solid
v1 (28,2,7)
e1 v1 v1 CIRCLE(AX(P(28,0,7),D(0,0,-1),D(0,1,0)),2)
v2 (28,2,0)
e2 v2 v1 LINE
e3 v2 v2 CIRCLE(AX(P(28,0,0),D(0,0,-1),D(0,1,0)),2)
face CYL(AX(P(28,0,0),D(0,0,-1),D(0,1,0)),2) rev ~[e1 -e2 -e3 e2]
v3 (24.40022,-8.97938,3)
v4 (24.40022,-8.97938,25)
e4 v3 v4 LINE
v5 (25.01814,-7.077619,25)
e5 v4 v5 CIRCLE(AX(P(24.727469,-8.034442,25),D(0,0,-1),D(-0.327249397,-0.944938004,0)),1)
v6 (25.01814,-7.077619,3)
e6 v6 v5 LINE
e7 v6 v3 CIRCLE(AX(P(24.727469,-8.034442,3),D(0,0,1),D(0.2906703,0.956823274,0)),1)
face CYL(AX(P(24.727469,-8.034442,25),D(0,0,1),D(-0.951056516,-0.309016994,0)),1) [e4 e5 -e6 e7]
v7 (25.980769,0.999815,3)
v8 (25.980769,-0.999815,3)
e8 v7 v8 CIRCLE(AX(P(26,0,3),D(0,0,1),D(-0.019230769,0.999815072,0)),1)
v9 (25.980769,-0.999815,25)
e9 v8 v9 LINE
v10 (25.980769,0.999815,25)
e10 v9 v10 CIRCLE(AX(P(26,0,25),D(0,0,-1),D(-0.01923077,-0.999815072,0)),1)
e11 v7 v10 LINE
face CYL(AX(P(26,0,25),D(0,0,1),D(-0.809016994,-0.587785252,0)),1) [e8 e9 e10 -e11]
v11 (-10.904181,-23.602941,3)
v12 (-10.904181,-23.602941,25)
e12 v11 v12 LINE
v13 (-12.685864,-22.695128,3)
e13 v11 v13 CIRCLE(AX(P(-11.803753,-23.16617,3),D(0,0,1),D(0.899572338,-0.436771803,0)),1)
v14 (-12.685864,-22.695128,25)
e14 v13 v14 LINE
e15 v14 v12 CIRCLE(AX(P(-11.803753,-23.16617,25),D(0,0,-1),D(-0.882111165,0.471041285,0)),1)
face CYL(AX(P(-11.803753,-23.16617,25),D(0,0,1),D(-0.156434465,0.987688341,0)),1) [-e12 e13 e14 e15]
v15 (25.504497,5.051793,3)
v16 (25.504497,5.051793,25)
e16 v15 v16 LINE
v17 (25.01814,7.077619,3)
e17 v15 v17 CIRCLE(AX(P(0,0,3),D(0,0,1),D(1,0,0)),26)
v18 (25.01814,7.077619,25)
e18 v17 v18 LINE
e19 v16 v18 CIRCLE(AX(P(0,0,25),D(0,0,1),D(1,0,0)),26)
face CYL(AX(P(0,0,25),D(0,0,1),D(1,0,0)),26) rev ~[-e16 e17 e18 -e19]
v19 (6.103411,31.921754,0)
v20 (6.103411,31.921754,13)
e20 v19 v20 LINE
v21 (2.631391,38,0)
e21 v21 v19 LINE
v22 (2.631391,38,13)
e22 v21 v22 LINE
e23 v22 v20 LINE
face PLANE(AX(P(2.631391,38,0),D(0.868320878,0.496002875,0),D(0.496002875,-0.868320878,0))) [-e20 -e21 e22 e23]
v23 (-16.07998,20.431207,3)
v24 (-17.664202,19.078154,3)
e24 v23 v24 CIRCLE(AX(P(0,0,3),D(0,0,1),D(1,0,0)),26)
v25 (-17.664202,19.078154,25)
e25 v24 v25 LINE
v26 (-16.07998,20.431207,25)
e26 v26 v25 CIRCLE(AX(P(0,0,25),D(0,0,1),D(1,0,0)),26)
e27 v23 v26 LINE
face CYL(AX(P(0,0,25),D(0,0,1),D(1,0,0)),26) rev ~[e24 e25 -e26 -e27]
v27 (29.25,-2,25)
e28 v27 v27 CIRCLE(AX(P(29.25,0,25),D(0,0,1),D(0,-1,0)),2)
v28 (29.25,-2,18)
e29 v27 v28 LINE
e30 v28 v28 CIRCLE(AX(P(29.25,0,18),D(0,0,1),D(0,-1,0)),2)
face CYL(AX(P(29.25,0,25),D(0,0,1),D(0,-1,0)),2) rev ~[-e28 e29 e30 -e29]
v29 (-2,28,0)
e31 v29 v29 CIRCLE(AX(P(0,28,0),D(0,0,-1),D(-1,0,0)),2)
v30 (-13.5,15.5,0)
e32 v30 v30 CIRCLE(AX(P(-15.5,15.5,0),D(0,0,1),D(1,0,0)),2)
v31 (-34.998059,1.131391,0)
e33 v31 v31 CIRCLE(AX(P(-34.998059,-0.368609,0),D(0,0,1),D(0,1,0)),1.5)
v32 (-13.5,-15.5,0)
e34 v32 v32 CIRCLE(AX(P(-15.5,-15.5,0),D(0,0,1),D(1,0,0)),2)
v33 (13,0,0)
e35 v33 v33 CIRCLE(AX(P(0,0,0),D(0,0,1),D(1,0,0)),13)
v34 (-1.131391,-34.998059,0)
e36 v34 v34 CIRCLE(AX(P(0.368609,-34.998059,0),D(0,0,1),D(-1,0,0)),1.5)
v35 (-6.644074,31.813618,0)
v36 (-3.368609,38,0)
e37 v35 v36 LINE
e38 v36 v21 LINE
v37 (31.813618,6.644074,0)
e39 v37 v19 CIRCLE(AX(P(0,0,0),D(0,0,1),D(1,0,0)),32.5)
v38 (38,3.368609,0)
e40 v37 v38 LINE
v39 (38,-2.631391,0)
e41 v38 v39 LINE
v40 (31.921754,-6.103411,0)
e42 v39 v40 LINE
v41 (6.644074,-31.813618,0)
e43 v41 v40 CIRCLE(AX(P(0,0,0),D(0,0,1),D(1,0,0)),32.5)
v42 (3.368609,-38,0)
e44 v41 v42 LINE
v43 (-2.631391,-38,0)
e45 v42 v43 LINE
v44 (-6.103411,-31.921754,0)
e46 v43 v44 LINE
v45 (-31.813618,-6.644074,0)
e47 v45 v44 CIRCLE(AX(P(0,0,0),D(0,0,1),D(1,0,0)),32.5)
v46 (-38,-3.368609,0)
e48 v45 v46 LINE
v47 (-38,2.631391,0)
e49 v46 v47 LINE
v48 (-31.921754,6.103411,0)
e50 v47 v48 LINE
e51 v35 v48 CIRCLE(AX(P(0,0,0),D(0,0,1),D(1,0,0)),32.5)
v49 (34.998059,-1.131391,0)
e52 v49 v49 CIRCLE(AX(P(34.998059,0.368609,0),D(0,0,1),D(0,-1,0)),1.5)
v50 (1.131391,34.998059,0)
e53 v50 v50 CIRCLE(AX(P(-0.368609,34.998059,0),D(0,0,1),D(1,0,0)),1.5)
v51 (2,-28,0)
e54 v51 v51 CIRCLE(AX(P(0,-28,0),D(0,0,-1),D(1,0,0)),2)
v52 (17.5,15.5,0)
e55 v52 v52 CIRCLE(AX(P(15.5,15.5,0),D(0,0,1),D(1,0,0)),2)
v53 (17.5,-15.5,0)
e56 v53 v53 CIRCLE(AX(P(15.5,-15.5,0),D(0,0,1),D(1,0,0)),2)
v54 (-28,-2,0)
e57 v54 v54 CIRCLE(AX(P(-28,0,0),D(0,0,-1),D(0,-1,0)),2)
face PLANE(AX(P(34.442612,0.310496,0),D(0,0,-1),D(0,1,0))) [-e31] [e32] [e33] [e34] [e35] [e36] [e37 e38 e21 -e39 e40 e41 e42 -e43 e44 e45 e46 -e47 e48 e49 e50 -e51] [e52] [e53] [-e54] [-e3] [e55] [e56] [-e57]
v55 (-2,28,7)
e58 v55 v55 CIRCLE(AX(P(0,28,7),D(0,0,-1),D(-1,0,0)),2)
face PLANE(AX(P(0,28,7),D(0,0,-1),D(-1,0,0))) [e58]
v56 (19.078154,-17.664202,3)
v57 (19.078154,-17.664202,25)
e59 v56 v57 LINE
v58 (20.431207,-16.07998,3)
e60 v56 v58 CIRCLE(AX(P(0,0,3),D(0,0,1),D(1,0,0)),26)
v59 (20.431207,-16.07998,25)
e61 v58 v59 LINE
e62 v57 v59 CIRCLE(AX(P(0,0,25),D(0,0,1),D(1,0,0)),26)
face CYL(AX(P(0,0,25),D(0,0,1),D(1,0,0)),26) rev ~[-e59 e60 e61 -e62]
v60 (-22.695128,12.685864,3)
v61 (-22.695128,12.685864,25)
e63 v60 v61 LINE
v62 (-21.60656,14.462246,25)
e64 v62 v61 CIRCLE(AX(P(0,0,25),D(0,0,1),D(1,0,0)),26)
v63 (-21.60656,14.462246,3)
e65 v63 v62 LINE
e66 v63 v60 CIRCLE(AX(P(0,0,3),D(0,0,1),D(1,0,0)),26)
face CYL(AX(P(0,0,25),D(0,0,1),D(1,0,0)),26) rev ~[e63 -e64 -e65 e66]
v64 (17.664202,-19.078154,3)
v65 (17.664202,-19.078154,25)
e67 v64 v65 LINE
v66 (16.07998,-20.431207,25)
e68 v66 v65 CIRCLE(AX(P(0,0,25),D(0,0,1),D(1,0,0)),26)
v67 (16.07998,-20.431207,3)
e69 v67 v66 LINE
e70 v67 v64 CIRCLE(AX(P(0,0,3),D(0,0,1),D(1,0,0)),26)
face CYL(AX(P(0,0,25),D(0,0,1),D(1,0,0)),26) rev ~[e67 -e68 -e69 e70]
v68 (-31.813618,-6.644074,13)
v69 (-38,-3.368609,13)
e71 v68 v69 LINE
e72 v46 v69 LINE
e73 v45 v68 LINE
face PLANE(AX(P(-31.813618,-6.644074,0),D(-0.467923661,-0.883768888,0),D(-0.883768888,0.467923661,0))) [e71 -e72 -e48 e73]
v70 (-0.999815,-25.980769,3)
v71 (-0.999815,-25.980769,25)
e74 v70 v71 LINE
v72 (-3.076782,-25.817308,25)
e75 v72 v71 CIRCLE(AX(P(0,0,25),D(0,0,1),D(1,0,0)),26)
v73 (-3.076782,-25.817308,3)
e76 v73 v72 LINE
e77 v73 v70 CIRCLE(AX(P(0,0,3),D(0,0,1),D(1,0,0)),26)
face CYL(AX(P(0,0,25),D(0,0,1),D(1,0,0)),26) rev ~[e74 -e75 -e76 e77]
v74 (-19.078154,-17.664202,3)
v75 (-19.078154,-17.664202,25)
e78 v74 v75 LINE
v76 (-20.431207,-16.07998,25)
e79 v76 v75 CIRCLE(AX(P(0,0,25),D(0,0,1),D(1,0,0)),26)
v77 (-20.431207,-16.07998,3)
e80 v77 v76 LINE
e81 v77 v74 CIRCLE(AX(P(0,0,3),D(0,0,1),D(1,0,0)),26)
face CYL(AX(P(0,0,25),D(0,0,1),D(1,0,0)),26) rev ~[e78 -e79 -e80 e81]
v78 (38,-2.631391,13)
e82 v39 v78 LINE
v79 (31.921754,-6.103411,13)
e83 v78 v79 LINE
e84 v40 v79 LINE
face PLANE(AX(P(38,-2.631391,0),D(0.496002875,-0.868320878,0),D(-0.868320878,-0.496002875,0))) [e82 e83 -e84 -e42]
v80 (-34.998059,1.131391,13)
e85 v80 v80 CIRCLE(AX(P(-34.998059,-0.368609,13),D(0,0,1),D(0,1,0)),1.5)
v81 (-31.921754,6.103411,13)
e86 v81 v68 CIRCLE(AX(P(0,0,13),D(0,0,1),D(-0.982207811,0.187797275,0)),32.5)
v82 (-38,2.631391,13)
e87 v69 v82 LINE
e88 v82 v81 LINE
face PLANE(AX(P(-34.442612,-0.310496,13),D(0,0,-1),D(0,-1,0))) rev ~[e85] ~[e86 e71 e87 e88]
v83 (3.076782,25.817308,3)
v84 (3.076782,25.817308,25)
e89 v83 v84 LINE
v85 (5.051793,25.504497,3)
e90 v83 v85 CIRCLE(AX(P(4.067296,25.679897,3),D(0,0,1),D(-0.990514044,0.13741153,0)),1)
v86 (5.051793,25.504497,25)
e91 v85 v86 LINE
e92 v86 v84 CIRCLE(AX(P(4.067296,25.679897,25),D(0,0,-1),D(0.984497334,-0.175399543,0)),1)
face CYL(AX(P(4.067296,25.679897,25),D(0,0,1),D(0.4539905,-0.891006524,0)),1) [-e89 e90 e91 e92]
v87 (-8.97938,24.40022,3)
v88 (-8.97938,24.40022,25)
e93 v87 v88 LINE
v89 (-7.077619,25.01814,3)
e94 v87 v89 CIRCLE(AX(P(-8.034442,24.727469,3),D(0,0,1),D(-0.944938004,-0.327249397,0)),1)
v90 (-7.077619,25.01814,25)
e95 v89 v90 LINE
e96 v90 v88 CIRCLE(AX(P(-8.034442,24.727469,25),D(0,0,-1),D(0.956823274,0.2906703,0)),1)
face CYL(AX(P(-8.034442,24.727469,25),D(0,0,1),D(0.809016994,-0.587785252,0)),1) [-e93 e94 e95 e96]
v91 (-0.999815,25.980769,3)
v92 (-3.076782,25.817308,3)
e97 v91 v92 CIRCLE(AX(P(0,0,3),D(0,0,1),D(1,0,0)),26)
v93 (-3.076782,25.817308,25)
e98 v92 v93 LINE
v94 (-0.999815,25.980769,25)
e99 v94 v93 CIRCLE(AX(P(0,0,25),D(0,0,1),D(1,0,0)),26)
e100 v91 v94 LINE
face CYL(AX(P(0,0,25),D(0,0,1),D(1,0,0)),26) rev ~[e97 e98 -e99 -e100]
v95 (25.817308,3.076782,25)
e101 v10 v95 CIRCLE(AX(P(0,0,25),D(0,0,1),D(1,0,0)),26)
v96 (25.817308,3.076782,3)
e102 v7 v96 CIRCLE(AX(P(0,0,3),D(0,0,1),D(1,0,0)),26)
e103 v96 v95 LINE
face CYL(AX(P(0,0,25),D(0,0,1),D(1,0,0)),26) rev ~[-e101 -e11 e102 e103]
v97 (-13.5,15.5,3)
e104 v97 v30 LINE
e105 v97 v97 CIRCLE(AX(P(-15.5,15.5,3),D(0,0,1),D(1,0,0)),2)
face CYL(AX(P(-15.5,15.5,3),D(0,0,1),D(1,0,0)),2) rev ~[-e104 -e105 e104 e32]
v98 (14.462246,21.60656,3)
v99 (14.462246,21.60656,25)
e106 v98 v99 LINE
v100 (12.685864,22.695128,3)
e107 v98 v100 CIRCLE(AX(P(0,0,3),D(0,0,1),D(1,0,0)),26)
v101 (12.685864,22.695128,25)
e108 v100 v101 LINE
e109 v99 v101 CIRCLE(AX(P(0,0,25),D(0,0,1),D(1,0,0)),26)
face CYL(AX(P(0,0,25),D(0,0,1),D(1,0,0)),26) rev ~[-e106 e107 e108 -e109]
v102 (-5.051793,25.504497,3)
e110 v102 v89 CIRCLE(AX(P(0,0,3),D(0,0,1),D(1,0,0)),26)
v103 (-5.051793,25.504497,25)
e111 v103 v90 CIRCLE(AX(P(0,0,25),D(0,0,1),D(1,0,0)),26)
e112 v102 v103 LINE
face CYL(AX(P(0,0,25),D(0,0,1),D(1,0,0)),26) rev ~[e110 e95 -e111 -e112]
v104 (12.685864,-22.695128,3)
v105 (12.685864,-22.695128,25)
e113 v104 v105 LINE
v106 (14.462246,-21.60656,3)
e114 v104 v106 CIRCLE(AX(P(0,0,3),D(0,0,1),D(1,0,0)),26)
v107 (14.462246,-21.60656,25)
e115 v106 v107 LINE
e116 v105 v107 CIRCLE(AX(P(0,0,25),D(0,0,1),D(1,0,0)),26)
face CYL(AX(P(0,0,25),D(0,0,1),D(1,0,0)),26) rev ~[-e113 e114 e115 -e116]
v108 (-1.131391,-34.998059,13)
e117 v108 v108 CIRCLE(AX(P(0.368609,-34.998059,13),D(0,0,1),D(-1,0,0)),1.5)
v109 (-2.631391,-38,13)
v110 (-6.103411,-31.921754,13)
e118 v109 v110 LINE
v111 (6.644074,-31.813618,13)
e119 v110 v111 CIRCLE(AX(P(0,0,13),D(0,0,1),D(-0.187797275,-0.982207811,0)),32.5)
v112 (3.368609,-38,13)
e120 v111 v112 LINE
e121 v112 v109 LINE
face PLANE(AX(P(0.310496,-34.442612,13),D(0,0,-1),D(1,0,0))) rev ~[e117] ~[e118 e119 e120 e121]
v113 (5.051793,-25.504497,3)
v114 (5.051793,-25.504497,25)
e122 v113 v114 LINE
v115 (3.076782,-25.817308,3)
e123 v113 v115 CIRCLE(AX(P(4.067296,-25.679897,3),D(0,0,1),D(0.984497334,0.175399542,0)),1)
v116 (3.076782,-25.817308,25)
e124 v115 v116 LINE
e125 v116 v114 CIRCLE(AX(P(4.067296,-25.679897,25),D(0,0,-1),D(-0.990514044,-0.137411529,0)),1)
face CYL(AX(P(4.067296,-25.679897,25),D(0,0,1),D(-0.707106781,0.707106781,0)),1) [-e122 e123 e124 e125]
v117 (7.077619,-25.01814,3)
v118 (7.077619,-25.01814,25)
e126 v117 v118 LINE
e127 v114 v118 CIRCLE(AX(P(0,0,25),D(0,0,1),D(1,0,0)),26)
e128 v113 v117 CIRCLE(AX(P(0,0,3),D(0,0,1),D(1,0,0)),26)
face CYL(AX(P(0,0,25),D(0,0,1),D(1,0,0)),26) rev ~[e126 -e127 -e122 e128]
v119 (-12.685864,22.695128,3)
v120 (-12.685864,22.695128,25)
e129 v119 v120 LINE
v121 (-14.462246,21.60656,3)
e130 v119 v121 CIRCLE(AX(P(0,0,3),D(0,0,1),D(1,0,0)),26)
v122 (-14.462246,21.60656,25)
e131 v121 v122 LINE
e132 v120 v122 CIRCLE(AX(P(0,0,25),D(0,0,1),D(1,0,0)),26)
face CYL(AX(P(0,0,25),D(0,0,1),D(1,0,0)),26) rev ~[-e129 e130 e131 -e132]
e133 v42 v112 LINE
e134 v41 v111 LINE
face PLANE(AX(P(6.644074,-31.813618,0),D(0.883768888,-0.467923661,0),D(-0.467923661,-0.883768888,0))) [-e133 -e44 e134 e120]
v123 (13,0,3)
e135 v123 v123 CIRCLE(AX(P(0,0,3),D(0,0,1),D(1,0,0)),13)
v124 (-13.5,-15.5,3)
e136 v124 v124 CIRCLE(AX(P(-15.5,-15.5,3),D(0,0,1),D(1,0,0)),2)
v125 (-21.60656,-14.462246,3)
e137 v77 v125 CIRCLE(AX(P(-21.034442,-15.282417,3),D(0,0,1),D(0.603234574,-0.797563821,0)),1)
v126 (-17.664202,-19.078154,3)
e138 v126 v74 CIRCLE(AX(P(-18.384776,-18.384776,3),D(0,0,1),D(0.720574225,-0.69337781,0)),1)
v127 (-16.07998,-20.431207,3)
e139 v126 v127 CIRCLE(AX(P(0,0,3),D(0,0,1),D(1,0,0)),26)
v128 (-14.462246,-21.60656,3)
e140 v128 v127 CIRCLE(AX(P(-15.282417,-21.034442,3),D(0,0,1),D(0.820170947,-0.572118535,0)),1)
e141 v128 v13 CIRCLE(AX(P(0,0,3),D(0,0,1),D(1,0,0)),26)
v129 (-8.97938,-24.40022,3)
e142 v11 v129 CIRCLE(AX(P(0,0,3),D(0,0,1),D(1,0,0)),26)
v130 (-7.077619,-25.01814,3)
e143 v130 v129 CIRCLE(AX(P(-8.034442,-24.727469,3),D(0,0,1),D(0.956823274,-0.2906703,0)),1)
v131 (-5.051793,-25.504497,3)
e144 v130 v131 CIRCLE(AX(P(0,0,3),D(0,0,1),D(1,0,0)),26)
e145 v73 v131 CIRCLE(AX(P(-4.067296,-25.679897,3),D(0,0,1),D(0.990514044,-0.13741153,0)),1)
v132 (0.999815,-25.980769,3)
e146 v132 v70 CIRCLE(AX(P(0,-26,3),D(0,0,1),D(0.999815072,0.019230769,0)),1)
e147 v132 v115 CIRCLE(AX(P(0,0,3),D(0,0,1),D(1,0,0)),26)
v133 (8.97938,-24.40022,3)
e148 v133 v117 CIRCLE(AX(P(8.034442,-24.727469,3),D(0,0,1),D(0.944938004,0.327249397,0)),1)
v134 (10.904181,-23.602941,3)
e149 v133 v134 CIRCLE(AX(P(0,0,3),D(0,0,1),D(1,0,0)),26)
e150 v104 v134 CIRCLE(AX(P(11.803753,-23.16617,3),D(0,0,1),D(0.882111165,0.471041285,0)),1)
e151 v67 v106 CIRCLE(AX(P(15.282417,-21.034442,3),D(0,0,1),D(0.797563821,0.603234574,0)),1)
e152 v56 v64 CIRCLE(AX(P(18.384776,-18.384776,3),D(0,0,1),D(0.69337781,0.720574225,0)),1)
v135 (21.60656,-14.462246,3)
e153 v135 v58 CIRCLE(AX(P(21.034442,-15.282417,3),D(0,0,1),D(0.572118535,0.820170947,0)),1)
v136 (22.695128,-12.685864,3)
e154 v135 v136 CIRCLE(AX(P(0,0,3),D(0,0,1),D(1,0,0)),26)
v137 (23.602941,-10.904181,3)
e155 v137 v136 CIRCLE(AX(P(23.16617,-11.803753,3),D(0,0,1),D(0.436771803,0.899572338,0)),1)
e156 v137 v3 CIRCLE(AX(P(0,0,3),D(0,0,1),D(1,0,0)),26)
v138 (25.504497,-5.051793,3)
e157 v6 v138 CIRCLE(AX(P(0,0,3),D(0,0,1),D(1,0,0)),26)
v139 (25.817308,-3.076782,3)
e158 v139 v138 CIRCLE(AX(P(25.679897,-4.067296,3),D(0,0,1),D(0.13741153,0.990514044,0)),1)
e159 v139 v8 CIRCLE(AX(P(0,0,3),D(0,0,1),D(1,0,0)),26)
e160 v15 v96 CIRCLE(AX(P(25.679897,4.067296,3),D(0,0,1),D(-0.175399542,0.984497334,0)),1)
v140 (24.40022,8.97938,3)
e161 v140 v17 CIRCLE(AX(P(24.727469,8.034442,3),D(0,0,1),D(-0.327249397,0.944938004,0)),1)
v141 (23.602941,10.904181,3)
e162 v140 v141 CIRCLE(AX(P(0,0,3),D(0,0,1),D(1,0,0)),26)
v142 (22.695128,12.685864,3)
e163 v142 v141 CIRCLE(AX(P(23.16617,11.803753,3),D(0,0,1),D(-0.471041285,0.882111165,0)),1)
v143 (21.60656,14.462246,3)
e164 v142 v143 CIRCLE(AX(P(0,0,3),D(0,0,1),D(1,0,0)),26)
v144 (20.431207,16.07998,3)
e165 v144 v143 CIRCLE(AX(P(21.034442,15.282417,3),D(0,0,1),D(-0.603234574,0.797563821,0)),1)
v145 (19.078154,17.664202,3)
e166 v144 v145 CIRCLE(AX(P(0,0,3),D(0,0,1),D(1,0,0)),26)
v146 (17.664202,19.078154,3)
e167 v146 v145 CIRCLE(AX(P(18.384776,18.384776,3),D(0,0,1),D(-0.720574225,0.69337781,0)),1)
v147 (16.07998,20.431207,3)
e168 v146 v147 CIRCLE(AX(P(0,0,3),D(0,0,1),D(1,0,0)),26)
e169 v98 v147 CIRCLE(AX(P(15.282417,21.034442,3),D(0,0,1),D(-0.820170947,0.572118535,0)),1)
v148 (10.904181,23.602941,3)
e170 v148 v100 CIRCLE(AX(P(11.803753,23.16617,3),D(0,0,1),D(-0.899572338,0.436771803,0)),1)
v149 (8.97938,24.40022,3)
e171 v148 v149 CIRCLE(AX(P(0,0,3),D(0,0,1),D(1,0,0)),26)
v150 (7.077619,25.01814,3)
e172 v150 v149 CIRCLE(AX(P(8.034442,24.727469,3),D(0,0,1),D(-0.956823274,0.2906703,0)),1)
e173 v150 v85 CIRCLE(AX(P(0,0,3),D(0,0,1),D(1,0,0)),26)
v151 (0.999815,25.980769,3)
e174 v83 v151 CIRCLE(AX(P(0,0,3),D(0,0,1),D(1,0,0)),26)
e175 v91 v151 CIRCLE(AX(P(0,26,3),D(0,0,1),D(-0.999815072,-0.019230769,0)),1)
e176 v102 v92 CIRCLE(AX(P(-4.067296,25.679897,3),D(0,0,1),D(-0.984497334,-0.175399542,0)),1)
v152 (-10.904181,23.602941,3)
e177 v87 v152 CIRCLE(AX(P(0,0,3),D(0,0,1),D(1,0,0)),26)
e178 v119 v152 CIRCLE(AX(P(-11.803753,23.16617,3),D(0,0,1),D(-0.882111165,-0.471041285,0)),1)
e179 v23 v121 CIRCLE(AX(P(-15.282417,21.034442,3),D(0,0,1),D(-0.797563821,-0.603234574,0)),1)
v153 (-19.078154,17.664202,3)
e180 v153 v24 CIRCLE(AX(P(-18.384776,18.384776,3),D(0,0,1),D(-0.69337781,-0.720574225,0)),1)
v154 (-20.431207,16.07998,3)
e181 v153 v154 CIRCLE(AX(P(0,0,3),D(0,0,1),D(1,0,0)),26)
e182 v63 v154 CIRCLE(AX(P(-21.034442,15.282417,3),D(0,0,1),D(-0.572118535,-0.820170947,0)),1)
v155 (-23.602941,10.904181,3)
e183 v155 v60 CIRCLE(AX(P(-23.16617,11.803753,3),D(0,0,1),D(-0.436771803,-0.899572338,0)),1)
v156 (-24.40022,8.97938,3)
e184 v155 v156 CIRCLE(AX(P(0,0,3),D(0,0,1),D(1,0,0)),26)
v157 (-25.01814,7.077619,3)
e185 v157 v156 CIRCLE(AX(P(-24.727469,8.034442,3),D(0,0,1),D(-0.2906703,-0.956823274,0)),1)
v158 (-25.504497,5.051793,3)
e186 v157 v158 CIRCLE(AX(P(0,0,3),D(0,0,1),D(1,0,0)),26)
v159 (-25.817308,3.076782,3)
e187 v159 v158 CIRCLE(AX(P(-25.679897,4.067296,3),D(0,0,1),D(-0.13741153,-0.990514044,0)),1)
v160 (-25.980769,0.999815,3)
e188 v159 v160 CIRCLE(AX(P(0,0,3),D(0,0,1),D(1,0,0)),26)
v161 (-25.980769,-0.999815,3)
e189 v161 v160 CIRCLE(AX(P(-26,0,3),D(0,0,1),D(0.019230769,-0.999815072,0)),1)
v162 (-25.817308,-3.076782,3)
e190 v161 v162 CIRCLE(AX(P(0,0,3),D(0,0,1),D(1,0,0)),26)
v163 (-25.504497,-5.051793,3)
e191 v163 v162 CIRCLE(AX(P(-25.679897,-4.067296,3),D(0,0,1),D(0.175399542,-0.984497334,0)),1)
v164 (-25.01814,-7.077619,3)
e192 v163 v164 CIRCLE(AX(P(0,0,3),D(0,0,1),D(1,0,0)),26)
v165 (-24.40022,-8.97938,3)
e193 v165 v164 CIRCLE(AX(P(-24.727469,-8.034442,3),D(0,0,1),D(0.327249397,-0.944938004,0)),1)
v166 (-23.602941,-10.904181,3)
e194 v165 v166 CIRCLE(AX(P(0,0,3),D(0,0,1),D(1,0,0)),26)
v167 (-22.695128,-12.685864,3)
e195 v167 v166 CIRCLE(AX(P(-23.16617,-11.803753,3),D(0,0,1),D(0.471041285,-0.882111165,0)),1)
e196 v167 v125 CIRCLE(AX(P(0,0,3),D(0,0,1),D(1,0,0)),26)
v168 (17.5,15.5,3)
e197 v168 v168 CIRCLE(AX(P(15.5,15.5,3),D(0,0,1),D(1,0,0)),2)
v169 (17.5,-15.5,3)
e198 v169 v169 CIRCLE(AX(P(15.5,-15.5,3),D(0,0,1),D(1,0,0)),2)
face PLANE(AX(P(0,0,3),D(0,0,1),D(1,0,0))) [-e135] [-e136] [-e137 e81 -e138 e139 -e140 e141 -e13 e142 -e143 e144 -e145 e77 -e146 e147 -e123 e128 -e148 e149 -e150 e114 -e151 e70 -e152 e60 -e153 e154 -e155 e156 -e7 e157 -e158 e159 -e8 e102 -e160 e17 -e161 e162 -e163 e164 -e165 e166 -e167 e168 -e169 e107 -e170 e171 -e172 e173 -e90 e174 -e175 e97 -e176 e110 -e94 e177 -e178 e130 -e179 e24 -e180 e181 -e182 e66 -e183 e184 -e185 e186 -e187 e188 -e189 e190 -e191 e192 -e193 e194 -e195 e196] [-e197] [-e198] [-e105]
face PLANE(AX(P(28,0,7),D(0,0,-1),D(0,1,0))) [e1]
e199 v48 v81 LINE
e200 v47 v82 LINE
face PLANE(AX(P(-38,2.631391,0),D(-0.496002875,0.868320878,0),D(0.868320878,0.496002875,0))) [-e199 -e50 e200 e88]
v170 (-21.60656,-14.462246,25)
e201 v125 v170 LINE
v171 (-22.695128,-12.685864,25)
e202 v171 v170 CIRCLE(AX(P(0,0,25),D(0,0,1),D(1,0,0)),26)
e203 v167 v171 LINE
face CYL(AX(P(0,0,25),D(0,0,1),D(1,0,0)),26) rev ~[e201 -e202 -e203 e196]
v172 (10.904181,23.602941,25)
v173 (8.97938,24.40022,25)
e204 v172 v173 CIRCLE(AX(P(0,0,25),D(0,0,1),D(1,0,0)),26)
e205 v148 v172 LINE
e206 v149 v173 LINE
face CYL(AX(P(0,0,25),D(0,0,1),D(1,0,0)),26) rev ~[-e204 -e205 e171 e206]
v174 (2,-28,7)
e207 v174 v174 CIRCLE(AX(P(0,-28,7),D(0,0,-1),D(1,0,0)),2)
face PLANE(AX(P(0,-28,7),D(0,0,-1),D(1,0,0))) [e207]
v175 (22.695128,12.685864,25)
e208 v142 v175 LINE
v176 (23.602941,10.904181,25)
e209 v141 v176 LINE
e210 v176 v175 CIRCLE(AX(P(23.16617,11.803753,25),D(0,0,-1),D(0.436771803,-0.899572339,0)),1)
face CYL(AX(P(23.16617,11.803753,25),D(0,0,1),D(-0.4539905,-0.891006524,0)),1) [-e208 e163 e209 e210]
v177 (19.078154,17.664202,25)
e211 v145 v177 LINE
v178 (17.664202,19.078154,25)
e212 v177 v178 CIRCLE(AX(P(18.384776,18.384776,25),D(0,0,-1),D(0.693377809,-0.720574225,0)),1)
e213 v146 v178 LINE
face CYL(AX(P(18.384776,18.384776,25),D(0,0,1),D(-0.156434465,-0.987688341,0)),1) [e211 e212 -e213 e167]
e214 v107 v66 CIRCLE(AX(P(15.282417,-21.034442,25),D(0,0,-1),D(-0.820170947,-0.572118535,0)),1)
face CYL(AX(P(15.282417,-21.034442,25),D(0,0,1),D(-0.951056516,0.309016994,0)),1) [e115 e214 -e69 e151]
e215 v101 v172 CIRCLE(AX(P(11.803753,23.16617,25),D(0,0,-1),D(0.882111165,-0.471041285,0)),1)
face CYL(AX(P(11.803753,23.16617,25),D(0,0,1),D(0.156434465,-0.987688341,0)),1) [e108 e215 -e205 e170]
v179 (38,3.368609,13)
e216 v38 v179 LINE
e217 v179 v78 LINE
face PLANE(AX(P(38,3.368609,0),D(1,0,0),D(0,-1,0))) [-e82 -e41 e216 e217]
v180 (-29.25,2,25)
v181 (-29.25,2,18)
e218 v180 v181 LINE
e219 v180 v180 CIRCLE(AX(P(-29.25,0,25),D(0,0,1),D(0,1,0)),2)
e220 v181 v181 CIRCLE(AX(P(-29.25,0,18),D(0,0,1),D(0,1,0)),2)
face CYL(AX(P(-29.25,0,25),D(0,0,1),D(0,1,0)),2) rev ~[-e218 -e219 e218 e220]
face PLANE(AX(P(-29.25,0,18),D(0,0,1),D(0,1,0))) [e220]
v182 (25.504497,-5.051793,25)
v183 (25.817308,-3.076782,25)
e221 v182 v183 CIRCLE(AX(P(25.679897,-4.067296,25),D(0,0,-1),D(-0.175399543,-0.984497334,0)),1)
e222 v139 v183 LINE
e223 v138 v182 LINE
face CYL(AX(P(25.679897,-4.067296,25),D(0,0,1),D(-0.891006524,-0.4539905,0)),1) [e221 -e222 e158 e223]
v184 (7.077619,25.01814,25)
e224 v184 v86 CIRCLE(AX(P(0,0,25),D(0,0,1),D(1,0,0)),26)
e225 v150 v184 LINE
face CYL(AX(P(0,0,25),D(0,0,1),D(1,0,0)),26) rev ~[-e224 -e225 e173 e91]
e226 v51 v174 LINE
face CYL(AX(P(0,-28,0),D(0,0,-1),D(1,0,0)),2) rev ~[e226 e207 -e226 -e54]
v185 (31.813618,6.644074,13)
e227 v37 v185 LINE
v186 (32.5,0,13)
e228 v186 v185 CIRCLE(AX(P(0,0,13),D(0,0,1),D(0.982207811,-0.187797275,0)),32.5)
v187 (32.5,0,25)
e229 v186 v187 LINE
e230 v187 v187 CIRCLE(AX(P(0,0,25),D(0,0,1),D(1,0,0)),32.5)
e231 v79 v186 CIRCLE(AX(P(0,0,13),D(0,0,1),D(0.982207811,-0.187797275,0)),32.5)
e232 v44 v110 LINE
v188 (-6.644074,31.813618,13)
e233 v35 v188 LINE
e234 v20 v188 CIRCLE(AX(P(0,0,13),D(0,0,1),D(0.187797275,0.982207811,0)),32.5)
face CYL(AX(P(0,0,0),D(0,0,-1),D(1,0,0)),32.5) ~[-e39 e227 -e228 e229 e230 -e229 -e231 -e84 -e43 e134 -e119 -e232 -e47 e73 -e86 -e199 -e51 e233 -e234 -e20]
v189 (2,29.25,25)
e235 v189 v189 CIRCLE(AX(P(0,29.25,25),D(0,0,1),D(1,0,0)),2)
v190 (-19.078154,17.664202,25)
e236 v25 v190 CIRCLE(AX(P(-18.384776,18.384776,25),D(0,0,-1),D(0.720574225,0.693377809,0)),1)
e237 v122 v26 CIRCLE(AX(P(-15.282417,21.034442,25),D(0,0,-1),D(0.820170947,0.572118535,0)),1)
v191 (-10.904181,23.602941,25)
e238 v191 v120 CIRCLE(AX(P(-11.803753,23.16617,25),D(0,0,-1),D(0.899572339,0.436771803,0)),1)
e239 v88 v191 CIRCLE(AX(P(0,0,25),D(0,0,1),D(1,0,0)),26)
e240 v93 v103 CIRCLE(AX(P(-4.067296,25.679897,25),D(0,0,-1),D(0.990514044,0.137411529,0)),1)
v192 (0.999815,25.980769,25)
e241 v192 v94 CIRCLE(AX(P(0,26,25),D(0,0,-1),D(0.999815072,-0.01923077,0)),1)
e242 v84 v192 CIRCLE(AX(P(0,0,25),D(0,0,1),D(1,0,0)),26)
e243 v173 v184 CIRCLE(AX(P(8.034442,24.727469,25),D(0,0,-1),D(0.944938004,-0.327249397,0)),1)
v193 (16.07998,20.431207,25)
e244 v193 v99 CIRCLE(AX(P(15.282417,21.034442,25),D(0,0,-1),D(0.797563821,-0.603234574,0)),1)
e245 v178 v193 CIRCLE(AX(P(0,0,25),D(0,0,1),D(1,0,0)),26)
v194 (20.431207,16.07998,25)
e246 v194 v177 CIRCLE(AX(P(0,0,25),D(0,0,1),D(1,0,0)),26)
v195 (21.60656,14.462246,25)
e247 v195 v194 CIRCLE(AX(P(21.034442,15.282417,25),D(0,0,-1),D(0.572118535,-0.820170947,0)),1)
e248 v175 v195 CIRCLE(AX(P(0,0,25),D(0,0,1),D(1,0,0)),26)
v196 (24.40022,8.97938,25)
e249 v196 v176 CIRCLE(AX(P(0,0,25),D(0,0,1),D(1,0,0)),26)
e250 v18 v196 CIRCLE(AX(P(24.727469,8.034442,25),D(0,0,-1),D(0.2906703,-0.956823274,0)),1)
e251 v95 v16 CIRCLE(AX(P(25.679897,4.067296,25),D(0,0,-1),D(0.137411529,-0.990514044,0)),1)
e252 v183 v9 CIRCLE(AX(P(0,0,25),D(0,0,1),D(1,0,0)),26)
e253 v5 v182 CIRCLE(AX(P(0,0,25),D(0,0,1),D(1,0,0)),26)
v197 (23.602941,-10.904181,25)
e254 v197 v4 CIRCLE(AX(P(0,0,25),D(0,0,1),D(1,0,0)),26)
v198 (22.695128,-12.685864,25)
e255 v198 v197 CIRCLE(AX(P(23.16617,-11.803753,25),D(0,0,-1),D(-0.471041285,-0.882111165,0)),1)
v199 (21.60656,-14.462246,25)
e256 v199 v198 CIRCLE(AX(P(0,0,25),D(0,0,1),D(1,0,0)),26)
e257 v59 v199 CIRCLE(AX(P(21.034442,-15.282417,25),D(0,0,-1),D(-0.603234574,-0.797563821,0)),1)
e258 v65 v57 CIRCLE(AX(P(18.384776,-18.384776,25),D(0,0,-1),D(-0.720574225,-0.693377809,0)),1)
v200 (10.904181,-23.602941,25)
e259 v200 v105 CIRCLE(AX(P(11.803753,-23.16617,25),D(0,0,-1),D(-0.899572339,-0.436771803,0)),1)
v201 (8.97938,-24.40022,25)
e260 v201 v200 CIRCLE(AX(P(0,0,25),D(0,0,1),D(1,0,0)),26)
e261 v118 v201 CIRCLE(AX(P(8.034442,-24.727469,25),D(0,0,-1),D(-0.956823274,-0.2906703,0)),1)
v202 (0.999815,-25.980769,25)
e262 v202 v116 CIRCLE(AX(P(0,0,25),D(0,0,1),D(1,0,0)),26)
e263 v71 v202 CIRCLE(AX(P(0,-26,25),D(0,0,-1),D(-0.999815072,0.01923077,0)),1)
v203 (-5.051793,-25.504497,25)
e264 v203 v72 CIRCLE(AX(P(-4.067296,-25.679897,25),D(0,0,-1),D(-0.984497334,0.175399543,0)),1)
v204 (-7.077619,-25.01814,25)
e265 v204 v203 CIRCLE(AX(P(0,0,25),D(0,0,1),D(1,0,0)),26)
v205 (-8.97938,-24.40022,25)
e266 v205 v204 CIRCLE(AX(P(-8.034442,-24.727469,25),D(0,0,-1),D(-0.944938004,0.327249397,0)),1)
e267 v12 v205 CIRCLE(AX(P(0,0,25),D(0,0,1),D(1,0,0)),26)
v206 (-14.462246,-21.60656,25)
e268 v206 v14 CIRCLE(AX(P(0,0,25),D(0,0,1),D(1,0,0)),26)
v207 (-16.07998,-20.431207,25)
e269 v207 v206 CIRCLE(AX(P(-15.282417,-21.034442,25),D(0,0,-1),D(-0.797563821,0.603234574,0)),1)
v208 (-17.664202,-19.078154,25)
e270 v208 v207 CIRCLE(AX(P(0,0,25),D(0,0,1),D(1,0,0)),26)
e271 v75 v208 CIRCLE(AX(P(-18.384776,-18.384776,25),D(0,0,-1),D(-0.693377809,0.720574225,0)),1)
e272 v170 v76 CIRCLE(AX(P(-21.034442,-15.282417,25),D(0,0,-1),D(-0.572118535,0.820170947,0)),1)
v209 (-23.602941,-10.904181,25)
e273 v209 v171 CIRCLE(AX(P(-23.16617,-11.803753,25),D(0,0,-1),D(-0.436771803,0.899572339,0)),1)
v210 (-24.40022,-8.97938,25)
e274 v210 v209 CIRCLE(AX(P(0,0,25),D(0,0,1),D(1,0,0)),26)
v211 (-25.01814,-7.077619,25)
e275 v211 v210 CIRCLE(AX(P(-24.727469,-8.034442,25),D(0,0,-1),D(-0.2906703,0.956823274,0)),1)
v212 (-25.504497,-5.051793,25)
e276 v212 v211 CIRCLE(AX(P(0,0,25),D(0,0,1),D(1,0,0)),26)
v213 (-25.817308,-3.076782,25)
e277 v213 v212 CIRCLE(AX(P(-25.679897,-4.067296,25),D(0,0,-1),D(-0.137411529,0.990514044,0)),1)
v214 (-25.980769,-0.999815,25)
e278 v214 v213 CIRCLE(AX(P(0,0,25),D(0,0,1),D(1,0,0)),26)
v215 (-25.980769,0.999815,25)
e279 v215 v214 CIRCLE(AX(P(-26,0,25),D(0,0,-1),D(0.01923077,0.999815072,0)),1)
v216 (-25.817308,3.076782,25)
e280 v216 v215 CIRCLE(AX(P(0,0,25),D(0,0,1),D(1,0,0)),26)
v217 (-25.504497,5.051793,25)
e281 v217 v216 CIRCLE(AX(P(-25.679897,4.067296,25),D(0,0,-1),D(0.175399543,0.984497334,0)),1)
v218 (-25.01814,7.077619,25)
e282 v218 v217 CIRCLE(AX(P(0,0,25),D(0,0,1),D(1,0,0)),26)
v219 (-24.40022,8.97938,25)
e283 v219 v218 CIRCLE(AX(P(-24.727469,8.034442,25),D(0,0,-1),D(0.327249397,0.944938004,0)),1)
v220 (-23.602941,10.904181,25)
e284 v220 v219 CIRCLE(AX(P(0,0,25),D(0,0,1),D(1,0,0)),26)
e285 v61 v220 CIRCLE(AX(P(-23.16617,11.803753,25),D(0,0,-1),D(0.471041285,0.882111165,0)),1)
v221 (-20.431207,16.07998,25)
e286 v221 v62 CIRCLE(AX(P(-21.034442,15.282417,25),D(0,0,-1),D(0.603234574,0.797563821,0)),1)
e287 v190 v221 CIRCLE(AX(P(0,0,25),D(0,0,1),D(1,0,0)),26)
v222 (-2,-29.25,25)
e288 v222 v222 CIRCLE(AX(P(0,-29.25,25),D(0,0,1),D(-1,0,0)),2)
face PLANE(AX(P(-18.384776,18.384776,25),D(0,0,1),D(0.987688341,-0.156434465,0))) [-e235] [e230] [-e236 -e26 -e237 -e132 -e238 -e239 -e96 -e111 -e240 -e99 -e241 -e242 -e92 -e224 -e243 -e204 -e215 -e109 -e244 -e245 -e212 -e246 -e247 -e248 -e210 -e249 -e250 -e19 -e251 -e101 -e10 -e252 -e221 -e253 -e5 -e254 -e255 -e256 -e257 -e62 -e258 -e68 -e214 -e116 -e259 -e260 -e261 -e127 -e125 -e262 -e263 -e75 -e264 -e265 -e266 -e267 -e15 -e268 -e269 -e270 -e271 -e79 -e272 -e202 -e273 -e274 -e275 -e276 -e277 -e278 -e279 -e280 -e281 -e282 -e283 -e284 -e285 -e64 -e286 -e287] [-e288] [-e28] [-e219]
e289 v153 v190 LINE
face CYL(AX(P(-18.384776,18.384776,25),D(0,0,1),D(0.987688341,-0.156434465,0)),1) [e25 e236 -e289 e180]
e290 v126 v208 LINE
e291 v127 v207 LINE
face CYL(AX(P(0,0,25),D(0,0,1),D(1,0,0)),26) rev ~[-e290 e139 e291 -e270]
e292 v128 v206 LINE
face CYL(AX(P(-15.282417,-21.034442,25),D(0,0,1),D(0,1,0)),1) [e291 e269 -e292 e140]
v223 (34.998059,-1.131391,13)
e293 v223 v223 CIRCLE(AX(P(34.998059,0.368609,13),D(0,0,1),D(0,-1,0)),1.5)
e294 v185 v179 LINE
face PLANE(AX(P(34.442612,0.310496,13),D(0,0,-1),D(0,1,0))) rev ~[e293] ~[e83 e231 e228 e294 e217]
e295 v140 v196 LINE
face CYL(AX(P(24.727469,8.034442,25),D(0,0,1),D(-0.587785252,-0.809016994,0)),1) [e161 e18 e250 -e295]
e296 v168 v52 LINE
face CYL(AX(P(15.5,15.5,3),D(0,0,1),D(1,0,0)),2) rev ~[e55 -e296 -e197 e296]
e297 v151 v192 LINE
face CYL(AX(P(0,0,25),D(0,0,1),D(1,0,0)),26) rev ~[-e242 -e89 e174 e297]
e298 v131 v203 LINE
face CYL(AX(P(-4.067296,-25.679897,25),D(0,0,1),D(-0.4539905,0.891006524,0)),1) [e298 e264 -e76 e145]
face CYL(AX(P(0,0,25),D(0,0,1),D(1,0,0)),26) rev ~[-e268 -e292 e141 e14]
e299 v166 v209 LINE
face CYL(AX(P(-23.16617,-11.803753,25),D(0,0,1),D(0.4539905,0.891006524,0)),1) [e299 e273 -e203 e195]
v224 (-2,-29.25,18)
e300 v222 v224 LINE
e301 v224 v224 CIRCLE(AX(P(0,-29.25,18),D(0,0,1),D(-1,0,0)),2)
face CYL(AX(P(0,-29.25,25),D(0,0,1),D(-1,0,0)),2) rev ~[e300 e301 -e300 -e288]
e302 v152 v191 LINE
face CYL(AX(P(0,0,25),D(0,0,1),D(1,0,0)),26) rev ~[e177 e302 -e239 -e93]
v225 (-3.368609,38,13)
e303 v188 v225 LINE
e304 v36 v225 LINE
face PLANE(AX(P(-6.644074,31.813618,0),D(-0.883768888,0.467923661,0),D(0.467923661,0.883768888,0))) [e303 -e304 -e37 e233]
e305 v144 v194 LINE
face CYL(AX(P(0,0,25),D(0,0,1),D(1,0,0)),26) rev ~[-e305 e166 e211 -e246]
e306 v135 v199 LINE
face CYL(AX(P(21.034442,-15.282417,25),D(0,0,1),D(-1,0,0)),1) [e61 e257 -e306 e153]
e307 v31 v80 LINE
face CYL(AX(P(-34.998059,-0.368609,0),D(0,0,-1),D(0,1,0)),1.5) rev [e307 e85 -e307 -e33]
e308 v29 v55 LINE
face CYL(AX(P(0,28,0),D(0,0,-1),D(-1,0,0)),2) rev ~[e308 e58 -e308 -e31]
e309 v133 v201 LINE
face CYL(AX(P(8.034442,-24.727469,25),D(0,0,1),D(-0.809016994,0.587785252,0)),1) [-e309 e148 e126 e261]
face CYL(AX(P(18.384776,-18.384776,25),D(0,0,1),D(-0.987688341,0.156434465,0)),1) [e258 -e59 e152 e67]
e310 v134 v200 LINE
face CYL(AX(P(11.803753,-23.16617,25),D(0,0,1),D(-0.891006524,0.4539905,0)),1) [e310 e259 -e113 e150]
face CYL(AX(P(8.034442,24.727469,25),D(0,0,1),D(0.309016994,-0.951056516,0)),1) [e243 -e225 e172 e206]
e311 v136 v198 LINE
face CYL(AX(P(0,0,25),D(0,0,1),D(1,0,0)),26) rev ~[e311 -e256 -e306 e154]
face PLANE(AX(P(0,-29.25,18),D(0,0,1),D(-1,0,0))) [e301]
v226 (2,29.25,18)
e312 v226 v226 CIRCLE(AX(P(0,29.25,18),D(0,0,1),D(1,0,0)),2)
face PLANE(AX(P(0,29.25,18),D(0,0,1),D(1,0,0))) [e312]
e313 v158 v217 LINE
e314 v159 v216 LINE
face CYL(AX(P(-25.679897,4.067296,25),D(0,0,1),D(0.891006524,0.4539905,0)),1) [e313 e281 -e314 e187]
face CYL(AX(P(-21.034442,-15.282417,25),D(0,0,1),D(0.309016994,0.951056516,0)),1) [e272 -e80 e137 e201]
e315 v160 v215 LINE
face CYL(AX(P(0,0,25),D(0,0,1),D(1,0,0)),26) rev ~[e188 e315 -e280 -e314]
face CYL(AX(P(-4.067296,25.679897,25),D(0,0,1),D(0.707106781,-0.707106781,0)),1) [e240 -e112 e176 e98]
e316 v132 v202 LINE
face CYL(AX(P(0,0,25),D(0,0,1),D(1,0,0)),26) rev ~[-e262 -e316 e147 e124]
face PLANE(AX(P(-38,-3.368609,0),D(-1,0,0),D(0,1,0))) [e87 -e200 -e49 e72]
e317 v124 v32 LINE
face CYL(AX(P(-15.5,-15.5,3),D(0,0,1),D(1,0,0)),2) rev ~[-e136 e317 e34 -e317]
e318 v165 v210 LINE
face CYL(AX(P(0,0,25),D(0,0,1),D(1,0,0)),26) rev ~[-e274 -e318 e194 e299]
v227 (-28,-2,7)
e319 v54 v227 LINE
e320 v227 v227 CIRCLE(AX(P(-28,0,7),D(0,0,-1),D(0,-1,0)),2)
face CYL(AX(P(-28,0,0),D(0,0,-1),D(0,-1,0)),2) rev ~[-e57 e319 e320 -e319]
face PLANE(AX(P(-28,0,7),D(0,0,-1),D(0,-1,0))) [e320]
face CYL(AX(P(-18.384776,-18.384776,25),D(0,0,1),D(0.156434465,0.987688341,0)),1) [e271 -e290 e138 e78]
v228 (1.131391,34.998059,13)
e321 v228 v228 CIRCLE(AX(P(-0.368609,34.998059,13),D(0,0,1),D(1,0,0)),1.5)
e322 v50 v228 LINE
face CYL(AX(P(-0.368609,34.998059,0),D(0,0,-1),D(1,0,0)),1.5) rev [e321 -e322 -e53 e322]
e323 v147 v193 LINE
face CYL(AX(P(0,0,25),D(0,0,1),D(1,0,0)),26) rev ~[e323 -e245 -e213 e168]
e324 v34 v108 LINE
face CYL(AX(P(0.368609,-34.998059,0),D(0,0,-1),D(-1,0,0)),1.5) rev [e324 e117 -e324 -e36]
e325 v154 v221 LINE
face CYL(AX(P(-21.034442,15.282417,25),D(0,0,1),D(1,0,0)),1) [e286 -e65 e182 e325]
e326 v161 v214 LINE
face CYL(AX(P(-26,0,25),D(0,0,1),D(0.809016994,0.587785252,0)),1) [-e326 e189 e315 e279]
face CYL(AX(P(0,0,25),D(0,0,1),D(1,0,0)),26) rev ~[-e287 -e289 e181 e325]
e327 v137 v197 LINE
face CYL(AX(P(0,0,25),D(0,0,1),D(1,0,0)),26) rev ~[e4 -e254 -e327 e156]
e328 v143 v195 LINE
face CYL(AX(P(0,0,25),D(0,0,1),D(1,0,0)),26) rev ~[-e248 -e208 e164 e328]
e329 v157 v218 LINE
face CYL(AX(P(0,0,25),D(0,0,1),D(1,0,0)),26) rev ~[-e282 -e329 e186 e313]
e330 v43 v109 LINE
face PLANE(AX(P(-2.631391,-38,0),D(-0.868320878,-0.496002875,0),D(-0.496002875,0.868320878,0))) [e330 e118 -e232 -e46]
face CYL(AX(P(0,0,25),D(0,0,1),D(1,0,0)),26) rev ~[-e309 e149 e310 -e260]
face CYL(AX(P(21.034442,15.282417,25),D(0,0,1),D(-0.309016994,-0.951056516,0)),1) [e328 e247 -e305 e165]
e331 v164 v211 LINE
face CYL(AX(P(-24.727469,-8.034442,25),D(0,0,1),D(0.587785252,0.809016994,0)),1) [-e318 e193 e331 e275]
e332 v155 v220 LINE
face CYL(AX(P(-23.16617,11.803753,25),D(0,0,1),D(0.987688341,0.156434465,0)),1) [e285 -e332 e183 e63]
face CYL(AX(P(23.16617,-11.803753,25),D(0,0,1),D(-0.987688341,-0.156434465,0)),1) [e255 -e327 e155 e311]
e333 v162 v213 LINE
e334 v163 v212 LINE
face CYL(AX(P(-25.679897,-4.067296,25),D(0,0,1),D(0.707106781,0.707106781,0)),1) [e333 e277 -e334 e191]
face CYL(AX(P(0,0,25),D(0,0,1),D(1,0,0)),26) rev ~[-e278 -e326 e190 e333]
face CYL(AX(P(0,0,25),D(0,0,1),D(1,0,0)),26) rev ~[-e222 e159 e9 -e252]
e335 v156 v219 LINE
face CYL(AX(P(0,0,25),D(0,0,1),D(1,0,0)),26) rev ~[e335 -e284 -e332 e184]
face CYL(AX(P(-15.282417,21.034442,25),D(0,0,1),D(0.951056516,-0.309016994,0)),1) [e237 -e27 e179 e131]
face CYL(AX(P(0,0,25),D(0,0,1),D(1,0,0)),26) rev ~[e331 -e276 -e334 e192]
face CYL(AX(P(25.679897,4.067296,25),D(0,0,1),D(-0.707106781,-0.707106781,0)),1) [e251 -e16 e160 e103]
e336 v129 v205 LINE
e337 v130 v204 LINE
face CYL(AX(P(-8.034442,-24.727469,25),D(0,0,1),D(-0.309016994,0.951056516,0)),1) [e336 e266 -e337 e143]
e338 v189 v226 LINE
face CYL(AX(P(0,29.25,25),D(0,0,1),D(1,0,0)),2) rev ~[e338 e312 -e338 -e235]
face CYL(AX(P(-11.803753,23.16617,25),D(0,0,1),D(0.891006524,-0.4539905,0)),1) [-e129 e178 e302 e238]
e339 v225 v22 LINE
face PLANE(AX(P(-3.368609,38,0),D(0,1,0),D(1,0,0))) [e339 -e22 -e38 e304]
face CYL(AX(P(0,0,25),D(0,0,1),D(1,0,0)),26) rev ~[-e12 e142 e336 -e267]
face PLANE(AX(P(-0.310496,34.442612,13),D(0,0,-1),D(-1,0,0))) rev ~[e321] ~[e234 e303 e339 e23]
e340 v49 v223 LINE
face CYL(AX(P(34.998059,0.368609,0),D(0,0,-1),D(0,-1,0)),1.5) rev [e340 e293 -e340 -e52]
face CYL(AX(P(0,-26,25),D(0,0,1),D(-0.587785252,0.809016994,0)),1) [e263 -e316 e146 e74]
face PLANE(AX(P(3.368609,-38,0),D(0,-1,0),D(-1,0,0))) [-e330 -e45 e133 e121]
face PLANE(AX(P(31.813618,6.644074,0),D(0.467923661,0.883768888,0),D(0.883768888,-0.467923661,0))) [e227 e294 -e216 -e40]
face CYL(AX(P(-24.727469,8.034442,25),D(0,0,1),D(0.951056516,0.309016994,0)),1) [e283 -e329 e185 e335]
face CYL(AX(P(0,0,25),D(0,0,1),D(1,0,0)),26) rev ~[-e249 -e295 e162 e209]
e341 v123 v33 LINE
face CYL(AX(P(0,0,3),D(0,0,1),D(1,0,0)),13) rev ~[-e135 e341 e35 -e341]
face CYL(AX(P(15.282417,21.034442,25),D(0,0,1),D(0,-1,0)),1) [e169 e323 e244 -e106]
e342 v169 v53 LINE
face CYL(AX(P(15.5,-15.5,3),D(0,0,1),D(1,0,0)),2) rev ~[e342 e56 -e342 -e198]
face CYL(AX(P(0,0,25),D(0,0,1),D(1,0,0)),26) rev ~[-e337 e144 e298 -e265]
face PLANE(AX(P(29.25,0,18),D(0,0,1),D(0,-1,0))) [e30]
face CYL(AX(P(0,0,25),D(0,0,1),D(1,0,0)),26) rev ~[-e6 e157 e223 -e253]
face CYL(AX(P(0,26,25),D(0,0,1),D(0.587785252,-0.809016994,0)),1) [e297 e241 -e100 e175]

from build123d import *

# Parameters (mm, degrees)
ESQUISSE2_R                  = 32.5
BOSS_EXTRU_1_DEPTH           = 25
ESQUISSE3_R                  = 1
ENL_V_MAT_EXTRU_1_DEPTH      = 24
ESQUISSE4_R                  = 26
ENL_V_MAT_EXTRU_2_DEPTH      = 22
ESQUISSE5_R                  = 13
ENL_V_MAT_EXTRU_3_DEPTH      = 51.955863254
ESQUISSE6_R                  = 2
ENL_V_MAT_EXTRU_4_DEPTH      = 51.955863254
BOSS_EXTRU_2_START           = 24
ESQUISSE7_R                  = 1
BOSS_EXTRU_2_DEPTH           = 24
R_P_TITION_CIRCULAIRE1_COUNT = 40
ESQUISSE8_R                  = 2
ENL_V_MAT_EXTRU_5_DEPTH      = 7
R_P_TITION_CIRCULAIRE2_COUNT = 4
ESQUISSE9_R                  = 2
ENL_V_MAT_EXTRU_6_DEPTH      = 7
R_P_TITION_CIRCULAIRE3_COUNT = 4
BOSS_EXTRU_3_START           = -13
ESQUISSE11_R                 = 1.5
BOSS_EXTRU_3_DEPTH           = 13
R_P_TITION_CIRCULAIRE5_COUNT = 4


with BuildPart() as part:
    # Esquisse2 → Boss.-Extru.1 (new body)
    with BuildSketch(Plane.XY):
        Circle(ESQUISSE2_R)
    extrude(amount=BOSS_EXTRU_1_DEPTH)

    # Esquisse3 → Enlèv. mat.-Extru.1 (cut)
    with BuildSketch(Plane.XY.offset(25)):
        with Locations((0, 26)):
            Circle(ESQUISSE3_R)
        with Locations((4.067296091, 25.679896855)):
            Circle(ESQUISSE3_R)
        with Locations((8.034441854, 24.727469424)):
            Circle(ESQUISSE3_R)
        with Locations((11.803752993, 23.166169629)):
            Circle(ESQUISSE3_R)
        with Locations((15.28241656, 21.034441854)):
            Circle(ESQUISSE3_R)
        with Locations((18.384776311, 18.384776311)):
            Circle(ESQUISSE3_R)
        with Locations((21.034441854, 15.28241656)):
            Circle(ESQUISSE3_R)
        with Locations((23.166169629, 11.803752993)):
            Circle(ESQUISSE3_R)
        with Locations((24.727469424, 8.034441854)):
            Circle(ESQUISSE3_R)
        with Locations((25.679896855, 4.067296091)):
            Circle(ESQUISSE3_R)
        with Locations((26, 0)):
            Circle(ESQUISSE3_R)
        with Locations((25.679896855, -4.067296091)):
            Circle(ESQUISSE3_R)
        with Locations((24.727469424, -8.034441854)):
            Circle(ESQUISSE3_R)
        with Locations((23.166169629, -11.803752993)):
            Circle(ESQUISSE3_R)
        with Locations((21.034441854, -15.28241656)):
            Circle(ESQUISSE3_R)
        with Locations((18.384776311, -18.384776311)):
            Circle(ESQUISSE3_R)
        with Locations((15.28241656, -21.034441854)):
            Circle(ESQUISSE3_R)
        with Locations((11.803752993, -23.166169629)):
            Circle(ESQUISSE3_R)
        with Locations((8.034441854, -24.727469424)):
            Circle(ESQUISSE3_R)
        with Locations((4.067296091, -25.679896855)):
            Circle(ESQUISSE3_R)
        with Locations((0, -26)):
            Circle(ESQUISSE3_R)
        with Locations((-4.067296091, -25.679896855)):
            Circle(ESQUISSE3_R)
        with Locations((-8.034441854, -24.727469424)):
            Circle(ESQUISSE3_R)
        with Locations((-11.803752993, -23.166169629)):
            Circle(ESQUISSE3_R)
        with Locations((-15.28241656, -21.034441854)):
            Circle(ESQUISSE3_R)
        with Locations((-18.384776311, -18.384776311)):
            Circle(ESQUISSE3_R)
        with Locations((-21.034441854, -15.28241656)):
            Circle(ESQUISSE3_R)
        with Locations((-23.166169629, -11.803752993)):
            Circle(ESQUISSE3_R)
        with Locations((-24.727469424, -8.034441854)):
            Circle(ESQUISSE3_R)
        with Locations((-25.679896855, -4.067296091)):
            Circle(ESQUISSE3_R)
        with Locations((-26, 0)):
            Circle(ESQUISSE3_R)
        with Locations((-25.679896855, 4.067296091)):
            Circle(ESQUISSE3_R)
        with Locations((-24.727469424, 8.034441854)):
            Circle(ESQUISSE3_R)
        with Locations((-23.166169629, 11.803752993)):
            Circle(ESQUISSE3_R)
        with Locations((-21.034441854, 15.28241656)):
            Circle(ESQUISSE3_R)
        with Locations((-18.384776311, 18.384776311)):
            Circle(ESQUISSE3_R)
        with Locations((-15.28241656, 21.034441854)):
            Circle(ESQUISSE3_R)
        with Locations((-11.803752993, 23.166169629)):
            Circle(ESQUISSE3_R)
        with Locations((-8.034441854, 24.727469424)):
            Circle(ESQUISSE3_R)
        with Locations((-4.067296091, 25.679896855)):
            Circle(ESQUISSE3_R)
    extrude(amount=-ENL_V_MAT_EXTRU_1_DEPTH, mode=Mode.SUBTRACT)

    # Esquisse4 → Enlèv. mat.-Extru.2 (cut)
    with BuildSketch(Plane.XY.offset(25)):
        Circle(ESQUISSE4_R)
    extrude(amount=-ENL_V_MAT_EXTRU_2_DEPTH, mode=Mode.SUBTRACT)

    # Esquisse5 → Enlèv. mat.-Extru.3 (cut, through all)
    with BuildSketch(Plane.XY.offset(3)):
        Circle(ESQUISSE5_R)
    extrude(amount=-ENL_V_MAT_EXTRU_3_DEPTH, mode=Mode.SUBTRACT)

    # Esquisse6 → Enlèv. mat.-Extru.4 (cut, through all)
    with BuildSketch(Plane.XY.offset(3)):
        with Locations((-15.5, 15.5)):
            Circle(ESQUISSE6_R)
        with Locations((15.5, 15.5)):
            Circle(ESQUISSE6_R)
        with Locations((15.5, -15.5)):
            Circle(ESQUISSE6_R)
        with Locations((-15.5, -15.5)):
            Circle(ESQUISSE6_R)
    extrude(amount=-ENL_V_MAT_EXTRU_4_DEPTH, mode=Mode.SUBTRACT)

    # Esquisse7 → Boss.-Extru.2 (add)
    with BuildSketch(Plane.XY.offset(1).offset(BOSS_EXTRU_2_START)):
        with Locations((-21.034441854, 15.28241656)):
            Circle(ESQUISSE7_R)
    boss_extru_2 = extrude(amount=-BOSS_EXTRU_2_DEPTH)

    # Répétition circulaire1: Boss.-Extru.2 ×40 about axis
    r_p_tition_circulaire1_axis = Axis((0, 0, 0), (0, 0, 1))
    for i in range(1, R_P_TITION_CIRCULAIRE1_COUNT):
        add(boss_extru_2.rotate(r_p_tition_circulaire1_axis, i * 360 / R_P_TITION_CIRCULAIRE1_COUNT))

    # Esquisse8 → Enlèv. mat.-Extru.5 (cut)
    with BuildSketch(Plane.XY.offset(25)):
        with Locations((0, 29.25)):
            Circle(ESQUISSE8_R)
    enl_v_mat_extru_5 = extrude(amount=-ENL_V_MAT_EXTRU_5_DEPTH, mode=Mode.SUBTRACT)

    # Répétition circulaire2: Enlèv. mat.-Extru.5 ×4 about axis
    r_p_tition_circulaire2_axis = Axis((0, 0, 0), (0, 0, 1))
    for i in range(1, R_P_TITION_CIRCULAIRE2_COUNT):
        add(enl_v_mat_extru_5.rotate(r_p_tition_circulaire2_axis, i * 360 / R_P_TITION_CIRCULAIRE2_COUNT), mode=Mode.SUBTRACT)

    # Esquisse9 → Enlèv. mat.-Extru.6 (cut)
    with BuildSketch(Plane(origin=(0, 0, 0), x_dir=(-1, 0, 0), z_dir=(0, 0, -1))):
        with Locations((0, 28)):
            Circle(ESQUISSE9_R)
    enl_v_mat_extru_6 = extrude(amount=-ENL_V_MAT_EXTRU_6_DEPTH, mode=Mode.SUBTRACT)

    # Répétition circulaire3: Enlèv. mat.-Extru.6 ×4 about axis
    r_p_tition_circulaire3_axis = Axis((0, 0, 0), (0, 0, 1))
    for i in range(1, R_P_TITION_CIRCULAIRE3_COUNT):
        add(enl_v_mat_extru_6.rotate(r_p_tition_circulaire3_axis, i * 360 / R_P_TITION_CIRCULAIRE3_COUNT), mode=Mode.SUBTRACT)

    # Esquisse11 → Boss.-Extru.3 (add)
    with BuildSketch(Plane.XY.offset(13).offset(BOSS_EXTRU_3_START)):
        with BuildLine():
            Line((-6.644074322, 31.813617782), (-3.368608698, 38))
            Line((-3.368608698, 38), (2.631391302, 38))
            Line((2.631391302, 38), (6.103411428, 31.921753851))
            ThreePointArc((6.103411428, 31.921753851), (-0.275685407, 32.498830711), (-6.644074322, 31.813617782))
        make_face()
        with Locations((-0.368608698, 34.998058912)):
            Circle(ESQUISSE11_R, mode=Mode.SUBTRACT)
    boss_extru_3 = extrude(amount=BOSS_EXTRU_3_DEPTH)

    # Répétition circulaire5: Boss.-Extru.3 ×4 about axis
    r_p_tition_circulaire5_axis = Axis((0, 0, 0), (0, 0, 1))
    for i in range(1, R_P_TITION_CIRCULAIRE5_COUNT):
        add(boss_extru_3.rotate(r_p_tition_circulaire5_axis, i * 360 / R_P_TITION_CIRCULAIRE5_COUNT))


solid = part.part
